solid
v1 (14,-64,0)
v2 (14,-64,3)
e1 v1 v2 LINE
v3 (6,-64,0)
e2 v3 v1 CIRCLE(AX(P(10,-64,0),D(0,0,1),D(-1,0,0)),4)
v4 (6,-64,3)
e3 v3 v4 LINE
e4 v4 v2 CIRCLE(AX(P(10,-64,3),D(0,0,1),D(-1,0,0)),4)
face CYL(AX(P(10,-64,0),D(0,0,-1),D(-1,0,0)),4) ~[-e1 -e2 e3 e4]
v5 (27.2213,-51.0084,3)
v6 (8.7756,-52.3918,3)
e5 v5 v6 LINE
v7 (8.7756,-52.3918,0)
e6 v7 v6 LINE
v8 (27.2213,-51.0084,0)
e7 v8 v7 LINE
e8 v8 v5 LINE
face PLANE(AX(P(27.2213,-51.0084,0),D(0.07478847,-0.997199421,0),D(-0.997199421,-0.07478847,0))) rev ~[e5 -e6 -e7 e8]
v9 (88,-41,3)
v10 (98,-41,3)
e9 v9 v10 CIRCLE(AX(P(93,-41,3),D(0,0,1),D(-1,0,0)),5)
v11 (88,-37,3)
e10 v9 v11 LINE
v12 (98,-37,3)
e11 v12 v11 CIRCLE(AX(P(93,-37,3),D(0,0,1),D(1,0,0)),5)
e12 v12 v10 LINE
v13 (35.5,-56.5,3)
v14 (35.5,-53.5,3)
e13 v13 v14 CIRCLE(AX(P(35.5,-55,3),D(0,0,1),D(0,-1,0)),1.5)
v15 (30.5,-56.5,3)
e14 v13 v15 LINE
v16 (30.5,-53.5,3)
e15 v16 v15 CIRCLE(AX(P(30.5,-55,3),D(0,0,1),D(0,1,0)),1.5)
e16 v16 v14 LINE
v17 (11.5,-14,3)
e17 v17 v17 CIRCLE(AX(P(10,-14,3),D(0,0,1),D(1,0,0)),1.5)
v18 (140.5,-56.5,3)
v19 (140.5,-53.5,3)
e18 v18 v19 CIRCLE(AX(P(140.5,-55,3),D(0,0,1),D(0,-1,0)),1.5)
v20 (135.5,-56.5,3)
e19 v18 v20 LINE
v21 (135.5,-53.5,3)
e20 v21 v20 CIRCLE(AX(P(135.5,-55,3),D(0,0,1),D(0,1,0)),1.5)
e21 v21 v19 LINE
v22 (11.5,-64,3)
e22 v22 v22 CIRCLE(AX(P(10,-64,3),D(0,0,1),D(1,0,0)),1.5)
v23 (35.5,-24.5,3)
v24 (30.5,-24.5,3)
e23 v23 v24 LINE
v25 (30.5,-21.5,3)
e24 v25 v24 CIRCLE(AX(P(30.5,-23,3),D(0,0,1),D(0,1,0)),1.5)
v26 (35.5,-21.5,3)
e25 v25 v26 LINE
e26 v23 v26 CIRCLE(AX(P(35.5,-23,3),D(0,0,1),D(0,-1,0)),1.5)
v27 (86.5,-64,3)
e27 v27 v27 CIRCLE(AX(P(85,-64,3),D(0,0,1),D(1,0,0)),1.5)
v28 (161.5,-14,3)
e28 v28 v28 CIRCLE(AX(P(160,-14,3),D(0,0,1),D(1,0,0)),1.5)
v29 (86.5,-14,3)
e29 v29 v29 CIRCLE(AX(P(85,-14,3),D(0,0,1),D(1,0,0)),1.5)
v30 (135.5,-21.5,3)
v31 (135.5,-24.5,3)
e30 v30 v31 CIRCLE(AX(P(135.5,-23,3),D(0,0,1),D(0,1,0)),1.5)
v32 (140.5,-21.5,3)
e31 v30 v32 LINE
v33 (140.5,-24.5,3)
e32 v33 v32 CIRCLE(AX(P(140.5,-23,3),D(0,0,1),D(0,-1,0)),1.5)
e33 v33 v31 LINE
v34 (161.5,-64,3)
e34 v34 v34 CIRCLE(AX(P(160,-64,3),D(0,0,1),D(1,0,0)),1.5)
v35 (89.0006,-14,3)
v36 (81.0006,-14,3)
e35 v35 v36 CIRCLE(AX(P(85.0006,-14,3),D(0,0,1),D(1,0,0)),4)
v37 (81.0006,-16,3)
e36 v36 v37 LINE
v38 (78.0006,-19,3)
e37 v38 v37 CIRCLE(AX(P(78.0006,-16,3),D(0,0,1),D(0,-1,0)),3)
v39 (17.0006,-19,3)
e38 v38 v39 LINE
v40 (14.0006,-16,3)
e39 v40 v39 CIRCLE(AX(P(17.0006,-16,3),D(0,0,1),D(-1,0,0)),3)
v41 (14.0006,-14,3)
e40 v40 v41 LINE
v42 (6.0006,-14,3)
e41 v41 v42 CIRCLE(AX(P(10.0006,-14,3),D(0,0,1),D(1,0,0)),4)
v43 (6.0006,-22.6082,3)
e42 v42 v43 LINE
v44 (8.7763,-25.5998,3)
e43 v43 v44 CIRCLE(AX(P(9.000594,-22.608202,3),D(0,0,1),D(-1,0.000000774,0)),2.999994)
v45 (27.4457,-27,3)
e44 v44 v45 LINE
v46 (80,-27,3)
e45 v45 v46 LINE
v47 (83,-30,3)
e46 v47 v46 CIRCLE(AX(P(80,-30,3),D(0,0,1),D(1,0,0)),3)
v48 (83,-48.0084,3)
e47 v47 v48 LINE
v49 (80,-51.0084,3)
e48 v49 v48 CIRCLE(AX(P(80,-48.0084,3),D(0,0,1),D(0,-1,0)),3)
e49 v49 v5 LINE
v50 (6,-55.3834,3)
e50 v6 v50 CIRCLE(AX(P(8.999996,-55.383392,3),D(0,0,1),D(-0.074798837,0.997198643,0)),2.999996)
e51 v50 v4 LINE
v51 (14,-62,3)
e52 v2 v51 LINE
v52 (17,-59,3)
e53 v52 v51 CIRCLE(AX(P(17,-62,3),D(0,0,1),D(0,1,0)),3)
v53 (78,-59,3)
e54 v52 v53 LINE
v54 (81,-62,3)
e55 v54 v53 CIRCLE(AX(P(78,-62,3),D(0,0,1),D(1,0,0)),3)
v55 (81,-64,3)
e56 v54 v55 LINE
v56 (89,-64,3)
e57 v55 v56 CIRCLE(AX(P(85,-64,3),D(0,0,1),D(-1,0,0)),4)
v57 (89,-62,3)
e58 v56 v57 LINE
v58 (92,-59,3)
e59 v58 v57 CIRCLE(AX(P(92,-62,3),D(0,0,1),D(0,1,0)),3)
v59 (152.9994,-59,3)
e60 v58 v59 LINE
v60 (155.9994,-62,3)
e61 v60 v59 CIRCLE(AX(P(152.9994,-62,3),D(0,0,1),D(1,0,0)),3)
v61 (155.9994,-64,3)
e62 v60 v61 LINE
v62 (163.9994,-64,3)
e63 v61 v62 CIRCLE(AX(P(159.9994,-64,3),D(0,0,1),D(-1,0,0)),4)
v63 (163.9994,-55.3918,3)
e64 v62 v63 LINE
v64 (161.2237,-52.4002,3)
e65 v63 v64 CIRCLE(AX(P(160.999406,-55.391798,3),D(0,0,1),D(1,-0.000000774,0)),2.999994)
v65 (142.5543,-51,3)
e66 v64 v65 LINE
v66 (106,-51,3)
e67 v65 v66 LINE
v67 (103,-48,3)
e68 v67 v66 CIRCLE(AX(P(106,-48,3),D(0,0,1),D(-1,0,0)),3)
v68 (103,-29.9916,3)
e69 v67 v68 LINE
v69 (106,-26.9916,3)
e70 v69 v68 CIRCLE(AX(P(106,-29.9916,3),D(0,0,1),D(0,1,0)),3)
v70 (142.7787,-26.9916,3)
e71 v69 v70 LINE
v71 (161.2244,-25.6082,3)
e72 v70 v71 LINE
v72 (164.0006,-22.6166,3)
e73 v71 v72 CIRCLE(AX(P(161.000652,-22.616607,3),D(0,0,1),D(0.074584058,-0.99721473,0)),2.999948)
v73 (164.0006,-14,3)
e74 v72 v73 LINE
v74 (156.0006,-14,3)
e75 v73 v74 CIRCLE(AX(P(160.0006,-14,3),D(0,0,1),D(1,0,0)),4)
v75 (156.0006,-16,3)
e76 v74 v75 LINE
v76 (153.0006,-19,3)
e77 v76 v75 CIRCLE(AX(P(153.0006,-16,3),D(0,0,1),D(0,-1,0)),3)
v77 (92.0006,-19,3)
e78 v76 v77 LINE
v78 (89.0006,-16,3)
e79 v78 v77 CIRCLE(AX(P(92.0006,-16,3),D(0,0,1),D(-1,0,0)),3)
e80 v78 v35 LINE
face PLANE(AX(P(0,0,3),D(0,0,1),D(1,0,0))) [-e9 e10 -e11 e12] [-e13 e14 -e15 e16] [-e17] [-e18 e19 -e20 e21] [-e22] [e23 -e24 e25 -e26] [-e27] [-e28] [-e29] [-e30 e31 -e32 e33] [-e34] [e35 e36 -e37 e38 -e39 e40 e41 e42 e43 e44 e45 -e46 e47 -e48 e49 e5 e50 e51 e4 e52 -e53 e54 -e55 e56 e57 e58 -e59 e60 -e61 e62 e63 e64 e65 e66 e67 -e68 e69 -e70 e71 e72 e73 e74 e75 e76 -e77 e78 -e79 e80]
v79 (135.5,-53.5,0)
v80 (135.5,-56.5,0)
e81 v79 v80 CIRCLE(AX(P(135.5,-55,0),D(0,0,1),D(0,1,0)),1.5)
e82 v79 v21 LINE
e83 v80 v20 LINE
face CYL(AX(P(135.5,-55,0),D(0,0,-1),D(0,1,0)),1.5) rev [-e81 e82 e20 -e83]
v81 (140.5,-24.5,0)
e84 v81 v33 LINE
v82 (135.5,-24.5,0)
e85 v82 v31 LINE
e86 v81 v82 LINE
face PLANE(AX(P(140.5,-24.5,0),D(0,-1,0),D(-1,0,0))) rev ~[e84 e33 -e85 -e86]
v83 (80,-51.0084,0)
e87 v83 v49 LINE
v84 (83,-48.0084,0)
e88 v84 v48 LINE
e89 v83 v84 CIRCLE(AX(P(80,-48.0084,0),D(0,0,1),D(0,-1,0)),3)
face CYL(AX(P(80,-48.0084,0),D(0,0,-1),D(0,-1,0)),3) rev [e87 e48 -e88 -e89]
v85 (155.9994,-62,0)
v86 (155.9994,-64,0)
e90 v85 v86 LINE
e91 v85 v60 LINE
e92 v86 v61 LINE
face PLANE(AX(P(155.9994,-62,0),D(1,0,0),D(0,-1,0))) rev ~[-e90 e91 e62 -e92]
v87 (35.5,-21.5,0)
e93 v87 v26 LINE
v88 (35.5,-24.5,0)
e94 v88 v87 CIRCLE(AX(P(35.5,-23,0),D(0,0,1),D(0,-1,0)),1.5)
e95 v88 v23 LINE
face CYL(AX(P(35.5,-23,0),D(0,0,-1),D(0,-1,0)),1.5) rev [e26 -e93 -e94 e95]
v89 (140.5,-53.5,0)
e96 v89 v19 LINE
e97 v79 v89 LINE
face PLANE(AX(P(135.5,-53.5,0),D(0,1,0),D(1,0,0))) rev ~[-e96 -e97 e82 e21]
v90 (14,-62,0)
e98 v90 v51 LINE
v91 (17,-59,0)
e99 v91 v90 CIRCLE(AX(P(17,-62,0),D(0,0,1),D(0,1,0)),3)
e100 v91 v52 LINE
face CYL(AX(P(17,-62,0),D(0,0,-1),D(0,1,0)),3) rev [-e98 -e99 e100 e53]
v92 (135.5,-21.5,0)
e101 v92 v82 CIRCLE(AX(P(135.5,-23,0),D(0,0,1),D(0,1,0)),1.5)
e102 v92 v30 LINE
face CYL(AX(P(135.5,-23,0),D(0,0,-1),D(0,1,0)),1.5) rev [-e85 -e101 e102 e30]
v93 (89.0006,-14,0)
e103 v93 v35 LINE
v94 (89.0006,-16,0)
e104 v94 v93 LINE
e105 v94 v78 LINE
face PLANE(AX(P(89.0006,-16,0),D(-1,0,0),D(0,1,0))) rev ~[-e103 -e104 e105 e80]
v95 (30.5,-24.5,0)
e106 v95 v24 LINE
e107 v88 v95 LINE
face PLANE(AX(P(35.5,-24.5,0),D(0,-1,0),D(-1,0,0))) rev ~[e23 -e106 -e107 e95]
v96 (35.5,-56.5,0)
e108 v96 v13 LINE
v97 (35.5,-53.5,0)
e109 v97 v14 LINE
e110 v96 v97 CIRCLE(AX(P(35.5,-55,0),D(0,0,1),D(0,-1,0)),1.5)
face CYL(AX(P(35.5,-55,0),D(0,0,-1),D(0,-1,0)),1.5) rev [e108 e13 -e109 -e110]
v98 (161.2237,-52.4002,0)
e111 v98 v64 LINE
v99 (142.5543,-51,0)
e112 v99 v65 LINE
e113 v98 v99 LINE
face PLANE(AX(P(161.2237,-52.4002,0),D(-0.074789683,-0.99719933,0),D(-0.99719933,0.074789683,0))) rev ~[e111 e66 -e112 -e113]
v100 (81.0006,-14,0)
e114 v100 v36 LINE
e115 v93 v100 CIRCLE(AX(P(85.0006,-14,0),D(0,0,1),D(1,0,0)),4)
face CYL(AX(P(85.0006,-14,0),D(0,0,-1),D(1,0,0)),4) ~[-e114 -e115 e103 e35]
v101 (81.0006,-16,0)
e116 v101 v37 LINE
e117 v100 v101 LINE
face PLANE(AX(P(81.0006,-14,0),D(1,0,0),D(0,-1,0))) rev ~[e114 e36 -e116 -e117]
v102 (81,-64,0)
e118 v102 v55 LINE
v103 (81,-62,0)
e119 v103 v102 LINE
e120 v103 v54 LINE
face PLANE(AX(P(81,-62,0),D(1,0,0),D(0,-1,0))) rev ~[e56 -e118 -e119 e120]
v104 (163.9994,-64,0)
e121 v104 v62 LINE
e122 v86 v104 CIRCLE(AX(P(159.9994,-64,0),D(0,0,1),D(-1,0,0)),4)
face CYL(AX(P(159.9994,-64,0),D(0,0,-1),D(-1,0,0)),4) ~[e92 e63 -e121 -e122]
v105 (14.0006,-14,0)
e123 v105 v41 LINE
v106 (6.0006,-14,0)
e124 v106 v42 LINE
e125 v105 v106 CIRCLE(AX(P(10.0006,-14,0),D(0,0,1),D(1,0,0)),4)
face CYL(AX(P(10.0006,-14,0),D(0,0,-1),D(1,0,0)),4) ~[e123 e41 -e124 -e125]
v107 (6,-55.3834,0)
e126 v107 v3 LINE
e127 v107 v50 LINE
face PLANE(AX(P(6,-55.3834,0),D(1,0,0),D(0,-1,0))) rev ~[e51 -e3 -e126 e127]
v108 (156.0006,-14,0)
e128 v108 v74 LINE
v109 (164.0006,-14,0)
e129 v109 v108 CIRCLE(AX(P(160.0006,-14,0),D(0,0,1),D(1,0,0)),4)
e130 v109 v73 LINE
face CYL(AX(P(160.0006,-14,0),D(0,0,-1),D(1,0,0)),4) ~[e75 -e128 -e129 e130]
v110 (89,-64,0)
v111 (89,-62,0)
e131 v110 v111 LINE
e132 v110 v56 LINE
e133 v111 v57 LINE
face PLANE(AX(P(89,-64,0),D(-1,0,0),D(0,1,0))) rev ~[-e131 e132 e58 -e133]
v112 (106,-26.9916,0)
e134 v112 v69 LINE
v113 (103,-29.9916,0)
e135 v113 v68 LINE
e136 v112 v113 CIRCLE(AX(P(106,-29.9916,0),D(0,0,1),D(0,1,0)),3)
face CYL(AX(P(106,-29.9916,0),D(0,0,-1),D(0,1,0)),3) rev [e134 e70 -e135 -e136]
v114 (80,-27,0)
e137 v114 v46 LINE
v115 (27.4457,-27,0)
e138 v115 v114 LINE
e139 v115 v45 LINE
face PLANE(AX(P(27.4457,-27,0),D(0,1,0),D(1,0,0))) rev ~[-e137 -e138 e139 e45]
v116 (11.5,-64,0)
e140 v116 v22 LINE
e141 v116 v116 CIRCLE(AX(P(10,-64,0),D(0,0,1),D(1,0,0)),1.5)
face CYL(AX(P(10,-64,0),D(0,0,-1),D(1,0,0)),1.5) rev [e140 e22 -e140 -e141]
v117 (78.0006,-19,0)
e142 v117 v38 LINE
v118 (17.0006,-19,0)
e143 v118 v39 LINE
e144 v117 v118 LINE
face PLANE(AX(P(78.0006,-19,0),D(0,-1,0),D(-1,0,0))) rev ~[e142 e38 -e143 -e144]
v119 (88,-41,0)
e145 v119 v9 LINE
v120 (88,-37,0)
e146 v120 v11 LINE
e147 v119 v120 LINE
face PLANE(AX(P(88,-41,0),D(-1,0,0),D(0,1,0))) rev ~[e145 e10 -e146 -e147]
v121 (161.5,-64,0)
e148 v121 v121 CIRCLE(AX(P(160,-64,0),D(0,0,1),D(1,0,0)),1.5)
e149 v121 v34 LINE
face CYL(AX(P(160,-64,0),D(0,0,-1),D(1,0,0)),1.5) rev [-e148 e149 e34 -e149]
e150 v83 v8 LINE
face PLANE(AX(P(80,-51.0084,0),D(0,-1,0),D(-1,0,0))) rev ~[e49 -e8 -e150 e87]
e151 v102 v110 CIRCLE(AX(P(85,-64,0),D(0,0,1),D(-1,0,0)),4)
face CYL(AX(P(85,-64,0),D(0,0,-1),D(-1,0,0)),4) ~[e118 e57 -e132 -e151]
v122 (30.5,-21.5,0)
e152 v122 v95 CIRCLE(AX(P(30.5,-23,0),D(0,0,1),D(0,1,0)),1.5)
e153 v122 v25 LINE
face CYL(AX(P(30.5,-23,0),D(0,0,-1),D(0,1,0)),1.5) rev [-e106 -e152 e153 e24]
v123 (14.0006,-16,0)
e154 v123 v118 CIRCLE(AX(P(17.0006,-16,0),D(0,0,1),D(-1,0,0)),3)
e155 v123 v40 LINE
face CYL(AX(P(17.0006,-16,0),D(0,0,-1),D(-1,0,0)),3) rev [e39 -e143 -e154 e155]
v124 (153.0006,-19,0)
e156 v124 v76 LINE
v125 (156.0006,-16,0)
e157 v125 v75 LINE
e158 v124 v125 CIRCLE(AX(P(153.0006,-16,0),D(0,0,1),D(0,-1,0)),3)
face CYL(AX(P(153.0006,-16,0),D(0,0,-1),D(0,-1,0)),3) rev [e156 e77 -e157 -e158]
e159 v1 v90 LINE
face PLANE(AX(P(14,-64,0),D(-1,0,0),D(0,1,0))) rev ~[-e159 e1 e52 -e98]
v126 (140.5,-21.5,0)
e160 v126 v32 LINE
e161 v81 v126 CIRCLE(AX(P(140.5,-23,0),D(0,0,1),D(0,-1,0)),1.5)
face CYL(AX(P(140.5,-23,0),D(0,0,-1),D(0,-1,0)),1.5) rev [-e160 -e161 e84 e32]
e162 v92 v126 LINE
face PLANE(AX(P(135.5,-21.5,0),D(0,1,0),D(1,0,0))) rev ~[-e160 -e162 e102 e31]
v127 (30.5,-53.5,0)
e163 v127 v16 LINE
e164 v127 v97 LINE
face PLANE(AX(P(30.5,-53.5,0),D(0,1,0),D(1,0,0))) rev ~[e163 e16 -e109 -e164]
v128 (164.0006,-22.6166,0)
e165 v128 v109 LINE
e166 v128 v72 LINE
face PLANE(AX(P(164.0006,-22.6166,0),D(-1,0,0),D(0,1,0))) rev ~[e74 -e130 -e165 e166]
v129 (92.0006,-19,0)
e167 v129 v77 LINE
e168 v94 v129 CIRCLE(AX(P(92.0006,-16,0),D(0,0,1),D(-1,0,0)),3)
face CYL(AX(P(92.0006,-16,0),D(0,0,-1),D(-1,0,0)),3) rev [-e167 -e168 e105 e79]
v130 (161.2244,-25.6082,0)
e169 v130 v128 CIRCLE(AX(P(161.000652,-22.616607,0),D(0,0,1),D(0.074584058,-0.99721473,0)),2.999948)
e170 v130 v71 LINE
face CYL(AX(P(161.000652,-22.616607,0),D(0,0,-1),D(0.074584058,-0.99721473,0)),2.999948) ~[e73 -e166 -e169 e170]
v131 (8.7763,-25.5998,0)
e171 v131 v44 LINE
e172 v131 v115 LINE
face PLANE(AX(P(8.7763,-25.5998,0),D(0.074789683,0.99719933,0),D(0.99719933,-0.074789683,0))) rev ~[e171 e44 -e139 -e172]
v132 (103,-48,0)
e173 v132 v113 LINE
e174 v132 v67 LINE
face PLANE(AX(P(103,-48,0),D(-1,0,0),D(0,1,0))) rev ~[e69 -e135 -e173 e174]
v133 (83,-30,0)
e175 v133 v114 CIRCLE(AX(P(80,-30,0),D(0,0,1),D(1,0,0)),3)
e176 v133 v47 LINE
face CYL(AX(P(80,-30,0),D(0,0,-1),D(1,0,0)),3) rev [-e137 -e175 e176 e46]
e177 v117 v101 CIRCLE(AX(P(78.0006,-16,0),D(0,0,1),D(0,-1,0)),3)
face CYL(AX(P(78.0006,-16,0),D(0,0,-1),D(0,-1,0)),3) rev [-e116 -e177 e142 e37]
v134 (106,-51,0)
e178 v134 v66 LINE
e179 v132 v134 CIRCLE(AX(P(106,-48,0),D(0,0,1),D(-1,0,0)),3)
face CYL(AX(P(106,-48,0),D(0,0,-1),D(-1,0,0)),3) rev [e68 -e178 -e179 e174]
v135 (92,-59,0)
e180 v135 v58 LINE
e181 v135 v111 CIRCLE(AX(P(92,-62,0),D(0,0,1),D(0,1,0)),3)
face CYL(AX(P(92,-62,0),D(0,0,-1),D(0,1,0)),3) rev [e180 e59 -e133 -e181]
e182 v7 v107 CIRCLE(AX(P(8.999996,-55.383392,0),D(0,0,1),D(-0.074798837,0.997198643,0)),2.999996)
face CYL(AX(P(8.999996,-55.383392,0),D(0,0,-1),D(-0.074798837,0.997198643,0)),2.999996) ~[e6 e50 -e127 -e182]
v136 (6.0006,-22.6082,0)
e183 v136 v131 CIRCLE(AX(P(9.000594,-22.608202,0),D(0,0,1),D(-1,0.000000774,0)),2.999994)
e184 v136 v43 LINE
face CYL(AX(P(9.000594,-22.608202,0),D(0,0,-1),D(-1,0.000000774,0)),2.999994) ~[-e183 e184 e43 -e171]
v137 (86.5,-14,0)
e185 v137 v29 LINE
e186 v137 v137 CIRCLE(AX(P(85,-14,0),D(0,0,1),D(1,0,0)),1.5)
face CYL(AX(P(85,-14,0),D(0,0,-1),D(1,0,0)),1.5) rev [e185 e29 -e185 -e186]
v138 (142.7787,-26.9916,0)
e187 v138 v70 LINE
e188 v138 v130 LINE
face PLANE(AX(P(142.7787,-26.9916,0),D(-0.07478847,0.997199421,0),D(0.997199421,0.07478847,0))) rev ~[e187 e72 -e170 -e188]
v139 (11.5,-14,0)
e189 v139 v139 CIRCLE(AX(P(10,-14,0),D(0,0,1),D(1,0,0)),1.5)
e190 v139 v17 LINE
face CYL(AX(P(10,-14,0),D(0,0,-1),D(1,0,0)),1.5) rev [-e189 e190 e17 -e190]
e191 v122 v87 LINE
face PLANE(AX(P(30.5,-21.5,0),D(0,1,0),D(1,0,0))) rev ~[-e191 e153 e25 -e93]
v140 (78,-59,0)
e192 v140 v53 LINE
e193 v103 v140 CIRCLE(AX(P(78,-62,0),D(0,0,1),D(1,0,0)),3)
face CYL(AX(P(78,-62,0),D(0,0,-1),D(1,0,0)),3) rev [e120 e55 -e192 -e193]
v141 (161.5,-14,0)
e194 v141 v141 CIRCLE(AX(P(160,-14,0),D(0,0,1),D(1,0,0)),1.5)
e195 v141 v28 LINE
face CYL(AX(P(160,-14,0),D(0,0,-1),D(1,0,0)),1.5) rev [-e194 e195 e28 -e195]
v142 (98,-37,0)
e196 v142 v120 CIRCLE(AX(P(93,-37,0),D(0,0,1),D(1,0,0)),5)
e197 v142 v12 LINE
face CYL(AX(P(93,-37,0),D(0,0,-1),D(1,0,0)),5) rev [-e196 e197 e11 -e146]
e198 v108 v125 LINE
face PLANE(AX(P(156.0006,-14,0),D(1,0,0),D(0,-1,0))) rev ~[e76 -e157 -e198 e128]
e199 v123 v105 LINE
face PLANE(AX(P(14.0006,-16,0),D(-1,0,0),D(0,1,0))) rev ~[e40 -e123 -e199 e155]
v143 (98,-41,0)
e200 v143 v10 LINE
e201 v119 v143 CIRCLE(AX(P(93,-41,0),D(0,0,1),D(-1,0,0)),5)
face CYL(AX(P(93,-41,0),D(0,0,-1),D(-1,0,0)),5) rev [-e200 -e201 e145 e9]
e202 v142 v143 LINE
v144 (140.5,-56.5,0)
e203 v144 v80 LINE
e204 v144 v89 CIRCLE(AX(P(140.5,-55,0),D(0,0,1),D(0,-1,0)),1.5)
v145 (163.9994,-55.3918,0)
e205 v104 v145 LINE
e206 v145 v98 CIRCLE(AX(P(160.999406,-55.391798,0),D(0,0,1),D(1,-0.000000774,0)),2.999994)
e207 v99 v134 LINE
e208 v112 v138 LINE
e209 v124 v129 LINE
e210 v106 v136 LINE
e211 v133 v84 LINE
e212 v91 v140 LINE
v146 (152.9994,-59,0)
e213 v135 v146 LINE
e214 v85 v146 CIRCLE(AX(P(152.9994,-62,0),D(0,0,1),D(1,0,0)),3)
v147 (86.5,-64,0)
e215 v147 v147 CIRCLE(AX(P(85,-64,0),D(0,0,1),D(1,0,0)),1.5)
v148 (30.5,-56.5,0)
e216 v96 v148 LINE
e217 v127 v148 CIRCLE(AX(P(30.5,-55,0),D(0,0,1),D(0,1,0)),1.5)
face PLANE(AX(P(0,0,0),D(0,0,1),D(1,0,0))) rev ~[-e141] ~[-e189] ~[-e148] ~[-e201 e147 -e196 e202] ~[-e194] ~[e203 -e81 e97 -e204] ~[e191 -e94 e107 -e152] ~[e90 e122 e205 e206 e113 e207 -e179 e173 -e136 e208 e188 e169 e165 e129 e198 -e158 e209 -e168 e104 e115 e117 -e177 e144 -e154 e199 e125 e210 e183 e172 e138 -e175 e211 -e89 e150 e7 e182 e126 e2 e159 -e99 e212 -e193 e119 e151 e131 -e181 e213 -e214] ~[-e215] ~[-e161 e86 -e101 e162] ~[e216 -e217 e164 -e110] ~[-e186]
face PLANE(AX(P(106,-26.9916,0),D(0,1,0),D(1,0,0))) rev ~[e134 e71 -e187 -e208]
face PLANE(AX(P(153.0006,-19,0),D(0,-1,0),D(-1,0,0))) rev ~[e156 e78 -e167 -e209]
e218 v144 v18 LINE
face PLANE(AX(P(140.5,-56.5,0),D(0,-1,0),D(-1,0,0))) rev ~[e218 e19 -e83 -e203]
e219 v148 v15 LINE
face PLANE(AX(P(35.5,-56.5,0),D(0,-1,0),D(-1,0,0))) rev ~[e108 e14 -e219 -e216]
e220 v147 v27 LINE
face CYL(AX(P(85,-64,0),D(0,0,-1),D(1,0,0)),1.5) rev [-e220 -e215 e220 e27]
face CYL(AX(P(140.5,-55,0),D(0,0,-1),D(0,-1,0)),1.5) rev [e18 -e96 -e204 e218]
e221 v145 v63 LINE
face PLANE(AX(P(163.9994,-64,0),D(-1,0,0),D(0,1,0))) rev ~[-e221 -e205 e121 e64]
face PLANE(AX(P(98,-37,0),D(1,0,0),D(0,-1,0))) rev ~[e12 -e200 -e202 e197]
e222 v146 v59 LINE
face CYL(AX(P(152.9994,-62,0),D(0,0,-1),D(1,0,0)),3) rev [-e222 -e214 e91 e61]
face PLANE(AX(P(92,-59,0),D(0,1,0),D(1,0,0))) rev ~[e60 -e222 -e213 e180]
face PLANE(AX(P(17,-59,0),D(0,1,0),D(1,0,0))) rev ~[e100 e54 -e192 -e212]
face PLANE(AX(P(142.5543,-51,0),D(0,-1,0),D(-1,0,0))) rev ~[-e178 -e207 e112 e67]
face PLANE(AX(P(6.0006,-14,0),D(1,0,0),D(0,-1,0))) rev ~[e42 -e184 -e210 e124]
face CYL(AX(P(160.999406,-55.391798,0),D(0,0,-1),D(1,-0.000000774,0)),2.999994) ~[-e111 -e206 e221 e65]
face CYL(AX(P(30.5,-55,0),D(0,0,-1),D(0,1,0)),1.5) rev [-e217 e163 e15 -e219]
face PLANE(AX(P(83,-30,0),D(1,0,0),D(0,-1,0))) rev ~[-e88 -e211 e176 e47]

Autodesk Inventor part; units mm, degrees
ref_plane "YZ Plane" through (0, 0, 0) normal (1, 0, 0) x (0, 1, 0)
ref_plane "XZ Plane" through (0, 0, 0) normal (0, 1, 0) x (-1, 0, 0)
ref_plane "XY Plane" through (0, 0, 0) normal (0, 0, 1) x (1, 0, 0)
sketch "Sketch1" plane through (0, 0, 0) normal (0, 0, 1) x (1, 0, 0)
  line L0 (135.5, -53.5) -> (140.5, -53.5)
  arc A0 (140.5, -56.5) -> (140.5, -53.5) centre (140.5, -55) ccw
  line L1 (140.5, -56.5) -> (135.5, -56.5)
  arc A1 (135.5, -53.5) -> (135.5, -56.5) centre (135.5, -55) ccw
  line L2 (30.5, -21.5) -> (35.5, -21.5)
  arc A2 (35.5, -24.5) -> (35.5, -21.5) centre (35.5, -23) ccw
  line L3 (35.5, -24.5) -> (30.5, -24.5)
  arc A3 (30.5, -21.5) -> (30.5, -24.5) centre (30.5, -23) ccw
  line L4 (35.5, -56.5) -> (30.5, -56.5)
  arc A4 (30.5, -53.5) -> (30.5, -56.5) centre (30.5, -55) ccw
  line L5 (30.5, -53.5) -> (35.5, -53.5)
  arc A5 (35.5, -56.5) -> (35.5, -53.5) centre (35.5, -55) ccw
  line L6 (140.5, -24.5) -> (135.5, -24.5)
  arc A6 (135.5, -21.5) -> (135.5, -24.5) centre (135.5, -23) ccw
  line L7 (135.5, -21.5) -> (140.5, -21.5)
  arc A7 (140.5, -24.5) -> (140.5, -21.5) centre (140.5, -23) ccw
  arc A8 (6.0006, -22.6082) -> (8.7763, -25.5998) centre (9.0006, -22.6082) ccw
  line L8 (8.7763, -25.5998) -> (27.4457, -27)
  arc A9 (27.2213, -26.9916) -> (27.4457, -27) centre (27.4457, -24) ccw
  line L9 (27.4457, -27) -> (80, -27)
  arc A10 (83, -30) -> (80, -27) centre (80, -30) ccw
  line L10 (83, -30) -> (83, -48.0084)
  arc A11 (80, -51.0084) -> (83, -48.0084) centre (80, -48.0084) ccw
  line L11 (80, -51.0084) -> (27.2213, -51.0084)
  arc A12 (27.4457, -51) -> (27.2213, -51.0084) centre (27.4457, -54) ccw
  line L12 (27.2213, -51.0084) -> (8.7756, -52.3918)
  arc A13 (8.7756, -52.3918) -> (6, -55.3834) centre (9, -55.3834) ccw
  line L13 (6, -55.3834) -> (6, -64)
  arc A14 (6, -64) -> (14, -64) centre (10, -64) ccw
  line L14 (14, -64) -> (14, -62)
  arc A15 (17, -59) -> (14, -62) centre (17, -62) ccw
  line L15 (17, -59) -> (78, -59)
  arc A16 (81, -62) -> (78, -59) centre (78, -62) ccw
  line L16 (81, -62) -> (81, -64)
  arc A17 (81, -64) -> (89, -64) centre (85, -64) ccw
  line L17 (89, -64) -> (89, -62)
  arc A18 (92, -59) -> (89, -62) centre (92, -62) ccw
  line L18 (92, -59) -> (152.9994, -59)
  arc A19 (155.9994, -62) -> (152.9994, -59) centre (152.9994, -62) ccw
  line L19 (155.9994, -62) -> (155.9994, -64)
  arc A20 (155.9994, -64) -> (163.9994, -64) centre (159.9994, -64) ccw
  line L20 (163.9994, -64) -> (163.9994, -55.3918)
  arc A21 (163.9994, -55.3918) -> (161.2237, -52.4002) centre (160.9994, -55.3918) ccw
  line L21 (161.2237, -52.4002) -> (142.5543, -51)
  arc A22 (142.7787, -51.0084) -> (142.5543, -51) centre (142.5543, -54) ccw
  line L22 (142.5543, -51) -> (106, -51)
  arc A23 (103, -48) -> (106, -51) centre (106, -48) ccw
  line L23 (103, -48) -> (103, -29.9916)
  arc A24 (106, -26.9916) -> (103, -29.9916) centre (106, -29.9916) ccw
  line L24 (106, -26.9916) -> (142.7787, -26.9916)
  arc A25 (142.5543, -27) -> (142.7787, -26.9916) centre (142.5543, -24) ccw
  line L25 (142.7787, -26.9916) -> (161.2244, -25.6082)
  arc A26 (161.2244, -25.6082) -> (164.0006, -22.6166) centre (161.0006, -22.6165) ccw
  line L26 (164.0006, -22.6166) -> (164.0006, -14)
  arc A27 (164.0006, -14) -> (156.0006, -14) centre (160.0006, -14) ccw
  line L27 (156.0006, -14) -> (156.0006, -16)
  arc A28 (153.0006, -19) -> (156.0006, -16) centre (153.0006, -16) ccw
  line L28 (153.0006, -19) -> (92.0006, -19)
  arc A29 (89.0006, -16) -> (92.0006, -19) centre (92.0006, -16) ccw
  line L29 (89.0006, -16) -> (89.0006, -14)
  arc A30 (89.0006, -14) -> (81.0006, -14) centre (85.0006, -14) ccw
  line L30 (81.0006, -14) -> (81.0006, -16)
  arc A31 (78.0006, -19) -> (81.0006, -16) centre (78.0006, -16) ccw
  line L31 (78.0006, -19) -> (17.0006, -19)
  arc A32 (14.0006, -16) -> (17.0006, -19) centre (17.0006, -16) ccw
  line L32 (14.0006, -16) -> (14.0006, -14)
  arc A33 (14.0006, -14) -> (6.0006, -14) centre (10.0006, -14) ccw
  line L33 (6.0006, -14) -> (6.0006, -22.6082)
  arc A34 (98, -37) -> (88, -37) centre (93, -37) ccw
  line L34 (98, -37) -> (98, -41)
  arc A35 (88, -41) -> (98, -41) centre (93, -41) ccw
  line L35 (88, -41) -> (88, -37)
  circle A36 centre (10, -14) radius 1.5
  circle A37 centre (10, -64) radius 1.5
  circle A38 centre (85, -64) radius 1.5
  circle A39 centre (85, -14) radius 1.5
  circle A40 centre (160, -14) radius 1.5
  circle A41 centre (160, -64) radius 1.5
  point P0 (0, 0)
extrude "Extrusion1" add sketch "Sketch1" along normal blind 3
properties part number "updown_slider"
